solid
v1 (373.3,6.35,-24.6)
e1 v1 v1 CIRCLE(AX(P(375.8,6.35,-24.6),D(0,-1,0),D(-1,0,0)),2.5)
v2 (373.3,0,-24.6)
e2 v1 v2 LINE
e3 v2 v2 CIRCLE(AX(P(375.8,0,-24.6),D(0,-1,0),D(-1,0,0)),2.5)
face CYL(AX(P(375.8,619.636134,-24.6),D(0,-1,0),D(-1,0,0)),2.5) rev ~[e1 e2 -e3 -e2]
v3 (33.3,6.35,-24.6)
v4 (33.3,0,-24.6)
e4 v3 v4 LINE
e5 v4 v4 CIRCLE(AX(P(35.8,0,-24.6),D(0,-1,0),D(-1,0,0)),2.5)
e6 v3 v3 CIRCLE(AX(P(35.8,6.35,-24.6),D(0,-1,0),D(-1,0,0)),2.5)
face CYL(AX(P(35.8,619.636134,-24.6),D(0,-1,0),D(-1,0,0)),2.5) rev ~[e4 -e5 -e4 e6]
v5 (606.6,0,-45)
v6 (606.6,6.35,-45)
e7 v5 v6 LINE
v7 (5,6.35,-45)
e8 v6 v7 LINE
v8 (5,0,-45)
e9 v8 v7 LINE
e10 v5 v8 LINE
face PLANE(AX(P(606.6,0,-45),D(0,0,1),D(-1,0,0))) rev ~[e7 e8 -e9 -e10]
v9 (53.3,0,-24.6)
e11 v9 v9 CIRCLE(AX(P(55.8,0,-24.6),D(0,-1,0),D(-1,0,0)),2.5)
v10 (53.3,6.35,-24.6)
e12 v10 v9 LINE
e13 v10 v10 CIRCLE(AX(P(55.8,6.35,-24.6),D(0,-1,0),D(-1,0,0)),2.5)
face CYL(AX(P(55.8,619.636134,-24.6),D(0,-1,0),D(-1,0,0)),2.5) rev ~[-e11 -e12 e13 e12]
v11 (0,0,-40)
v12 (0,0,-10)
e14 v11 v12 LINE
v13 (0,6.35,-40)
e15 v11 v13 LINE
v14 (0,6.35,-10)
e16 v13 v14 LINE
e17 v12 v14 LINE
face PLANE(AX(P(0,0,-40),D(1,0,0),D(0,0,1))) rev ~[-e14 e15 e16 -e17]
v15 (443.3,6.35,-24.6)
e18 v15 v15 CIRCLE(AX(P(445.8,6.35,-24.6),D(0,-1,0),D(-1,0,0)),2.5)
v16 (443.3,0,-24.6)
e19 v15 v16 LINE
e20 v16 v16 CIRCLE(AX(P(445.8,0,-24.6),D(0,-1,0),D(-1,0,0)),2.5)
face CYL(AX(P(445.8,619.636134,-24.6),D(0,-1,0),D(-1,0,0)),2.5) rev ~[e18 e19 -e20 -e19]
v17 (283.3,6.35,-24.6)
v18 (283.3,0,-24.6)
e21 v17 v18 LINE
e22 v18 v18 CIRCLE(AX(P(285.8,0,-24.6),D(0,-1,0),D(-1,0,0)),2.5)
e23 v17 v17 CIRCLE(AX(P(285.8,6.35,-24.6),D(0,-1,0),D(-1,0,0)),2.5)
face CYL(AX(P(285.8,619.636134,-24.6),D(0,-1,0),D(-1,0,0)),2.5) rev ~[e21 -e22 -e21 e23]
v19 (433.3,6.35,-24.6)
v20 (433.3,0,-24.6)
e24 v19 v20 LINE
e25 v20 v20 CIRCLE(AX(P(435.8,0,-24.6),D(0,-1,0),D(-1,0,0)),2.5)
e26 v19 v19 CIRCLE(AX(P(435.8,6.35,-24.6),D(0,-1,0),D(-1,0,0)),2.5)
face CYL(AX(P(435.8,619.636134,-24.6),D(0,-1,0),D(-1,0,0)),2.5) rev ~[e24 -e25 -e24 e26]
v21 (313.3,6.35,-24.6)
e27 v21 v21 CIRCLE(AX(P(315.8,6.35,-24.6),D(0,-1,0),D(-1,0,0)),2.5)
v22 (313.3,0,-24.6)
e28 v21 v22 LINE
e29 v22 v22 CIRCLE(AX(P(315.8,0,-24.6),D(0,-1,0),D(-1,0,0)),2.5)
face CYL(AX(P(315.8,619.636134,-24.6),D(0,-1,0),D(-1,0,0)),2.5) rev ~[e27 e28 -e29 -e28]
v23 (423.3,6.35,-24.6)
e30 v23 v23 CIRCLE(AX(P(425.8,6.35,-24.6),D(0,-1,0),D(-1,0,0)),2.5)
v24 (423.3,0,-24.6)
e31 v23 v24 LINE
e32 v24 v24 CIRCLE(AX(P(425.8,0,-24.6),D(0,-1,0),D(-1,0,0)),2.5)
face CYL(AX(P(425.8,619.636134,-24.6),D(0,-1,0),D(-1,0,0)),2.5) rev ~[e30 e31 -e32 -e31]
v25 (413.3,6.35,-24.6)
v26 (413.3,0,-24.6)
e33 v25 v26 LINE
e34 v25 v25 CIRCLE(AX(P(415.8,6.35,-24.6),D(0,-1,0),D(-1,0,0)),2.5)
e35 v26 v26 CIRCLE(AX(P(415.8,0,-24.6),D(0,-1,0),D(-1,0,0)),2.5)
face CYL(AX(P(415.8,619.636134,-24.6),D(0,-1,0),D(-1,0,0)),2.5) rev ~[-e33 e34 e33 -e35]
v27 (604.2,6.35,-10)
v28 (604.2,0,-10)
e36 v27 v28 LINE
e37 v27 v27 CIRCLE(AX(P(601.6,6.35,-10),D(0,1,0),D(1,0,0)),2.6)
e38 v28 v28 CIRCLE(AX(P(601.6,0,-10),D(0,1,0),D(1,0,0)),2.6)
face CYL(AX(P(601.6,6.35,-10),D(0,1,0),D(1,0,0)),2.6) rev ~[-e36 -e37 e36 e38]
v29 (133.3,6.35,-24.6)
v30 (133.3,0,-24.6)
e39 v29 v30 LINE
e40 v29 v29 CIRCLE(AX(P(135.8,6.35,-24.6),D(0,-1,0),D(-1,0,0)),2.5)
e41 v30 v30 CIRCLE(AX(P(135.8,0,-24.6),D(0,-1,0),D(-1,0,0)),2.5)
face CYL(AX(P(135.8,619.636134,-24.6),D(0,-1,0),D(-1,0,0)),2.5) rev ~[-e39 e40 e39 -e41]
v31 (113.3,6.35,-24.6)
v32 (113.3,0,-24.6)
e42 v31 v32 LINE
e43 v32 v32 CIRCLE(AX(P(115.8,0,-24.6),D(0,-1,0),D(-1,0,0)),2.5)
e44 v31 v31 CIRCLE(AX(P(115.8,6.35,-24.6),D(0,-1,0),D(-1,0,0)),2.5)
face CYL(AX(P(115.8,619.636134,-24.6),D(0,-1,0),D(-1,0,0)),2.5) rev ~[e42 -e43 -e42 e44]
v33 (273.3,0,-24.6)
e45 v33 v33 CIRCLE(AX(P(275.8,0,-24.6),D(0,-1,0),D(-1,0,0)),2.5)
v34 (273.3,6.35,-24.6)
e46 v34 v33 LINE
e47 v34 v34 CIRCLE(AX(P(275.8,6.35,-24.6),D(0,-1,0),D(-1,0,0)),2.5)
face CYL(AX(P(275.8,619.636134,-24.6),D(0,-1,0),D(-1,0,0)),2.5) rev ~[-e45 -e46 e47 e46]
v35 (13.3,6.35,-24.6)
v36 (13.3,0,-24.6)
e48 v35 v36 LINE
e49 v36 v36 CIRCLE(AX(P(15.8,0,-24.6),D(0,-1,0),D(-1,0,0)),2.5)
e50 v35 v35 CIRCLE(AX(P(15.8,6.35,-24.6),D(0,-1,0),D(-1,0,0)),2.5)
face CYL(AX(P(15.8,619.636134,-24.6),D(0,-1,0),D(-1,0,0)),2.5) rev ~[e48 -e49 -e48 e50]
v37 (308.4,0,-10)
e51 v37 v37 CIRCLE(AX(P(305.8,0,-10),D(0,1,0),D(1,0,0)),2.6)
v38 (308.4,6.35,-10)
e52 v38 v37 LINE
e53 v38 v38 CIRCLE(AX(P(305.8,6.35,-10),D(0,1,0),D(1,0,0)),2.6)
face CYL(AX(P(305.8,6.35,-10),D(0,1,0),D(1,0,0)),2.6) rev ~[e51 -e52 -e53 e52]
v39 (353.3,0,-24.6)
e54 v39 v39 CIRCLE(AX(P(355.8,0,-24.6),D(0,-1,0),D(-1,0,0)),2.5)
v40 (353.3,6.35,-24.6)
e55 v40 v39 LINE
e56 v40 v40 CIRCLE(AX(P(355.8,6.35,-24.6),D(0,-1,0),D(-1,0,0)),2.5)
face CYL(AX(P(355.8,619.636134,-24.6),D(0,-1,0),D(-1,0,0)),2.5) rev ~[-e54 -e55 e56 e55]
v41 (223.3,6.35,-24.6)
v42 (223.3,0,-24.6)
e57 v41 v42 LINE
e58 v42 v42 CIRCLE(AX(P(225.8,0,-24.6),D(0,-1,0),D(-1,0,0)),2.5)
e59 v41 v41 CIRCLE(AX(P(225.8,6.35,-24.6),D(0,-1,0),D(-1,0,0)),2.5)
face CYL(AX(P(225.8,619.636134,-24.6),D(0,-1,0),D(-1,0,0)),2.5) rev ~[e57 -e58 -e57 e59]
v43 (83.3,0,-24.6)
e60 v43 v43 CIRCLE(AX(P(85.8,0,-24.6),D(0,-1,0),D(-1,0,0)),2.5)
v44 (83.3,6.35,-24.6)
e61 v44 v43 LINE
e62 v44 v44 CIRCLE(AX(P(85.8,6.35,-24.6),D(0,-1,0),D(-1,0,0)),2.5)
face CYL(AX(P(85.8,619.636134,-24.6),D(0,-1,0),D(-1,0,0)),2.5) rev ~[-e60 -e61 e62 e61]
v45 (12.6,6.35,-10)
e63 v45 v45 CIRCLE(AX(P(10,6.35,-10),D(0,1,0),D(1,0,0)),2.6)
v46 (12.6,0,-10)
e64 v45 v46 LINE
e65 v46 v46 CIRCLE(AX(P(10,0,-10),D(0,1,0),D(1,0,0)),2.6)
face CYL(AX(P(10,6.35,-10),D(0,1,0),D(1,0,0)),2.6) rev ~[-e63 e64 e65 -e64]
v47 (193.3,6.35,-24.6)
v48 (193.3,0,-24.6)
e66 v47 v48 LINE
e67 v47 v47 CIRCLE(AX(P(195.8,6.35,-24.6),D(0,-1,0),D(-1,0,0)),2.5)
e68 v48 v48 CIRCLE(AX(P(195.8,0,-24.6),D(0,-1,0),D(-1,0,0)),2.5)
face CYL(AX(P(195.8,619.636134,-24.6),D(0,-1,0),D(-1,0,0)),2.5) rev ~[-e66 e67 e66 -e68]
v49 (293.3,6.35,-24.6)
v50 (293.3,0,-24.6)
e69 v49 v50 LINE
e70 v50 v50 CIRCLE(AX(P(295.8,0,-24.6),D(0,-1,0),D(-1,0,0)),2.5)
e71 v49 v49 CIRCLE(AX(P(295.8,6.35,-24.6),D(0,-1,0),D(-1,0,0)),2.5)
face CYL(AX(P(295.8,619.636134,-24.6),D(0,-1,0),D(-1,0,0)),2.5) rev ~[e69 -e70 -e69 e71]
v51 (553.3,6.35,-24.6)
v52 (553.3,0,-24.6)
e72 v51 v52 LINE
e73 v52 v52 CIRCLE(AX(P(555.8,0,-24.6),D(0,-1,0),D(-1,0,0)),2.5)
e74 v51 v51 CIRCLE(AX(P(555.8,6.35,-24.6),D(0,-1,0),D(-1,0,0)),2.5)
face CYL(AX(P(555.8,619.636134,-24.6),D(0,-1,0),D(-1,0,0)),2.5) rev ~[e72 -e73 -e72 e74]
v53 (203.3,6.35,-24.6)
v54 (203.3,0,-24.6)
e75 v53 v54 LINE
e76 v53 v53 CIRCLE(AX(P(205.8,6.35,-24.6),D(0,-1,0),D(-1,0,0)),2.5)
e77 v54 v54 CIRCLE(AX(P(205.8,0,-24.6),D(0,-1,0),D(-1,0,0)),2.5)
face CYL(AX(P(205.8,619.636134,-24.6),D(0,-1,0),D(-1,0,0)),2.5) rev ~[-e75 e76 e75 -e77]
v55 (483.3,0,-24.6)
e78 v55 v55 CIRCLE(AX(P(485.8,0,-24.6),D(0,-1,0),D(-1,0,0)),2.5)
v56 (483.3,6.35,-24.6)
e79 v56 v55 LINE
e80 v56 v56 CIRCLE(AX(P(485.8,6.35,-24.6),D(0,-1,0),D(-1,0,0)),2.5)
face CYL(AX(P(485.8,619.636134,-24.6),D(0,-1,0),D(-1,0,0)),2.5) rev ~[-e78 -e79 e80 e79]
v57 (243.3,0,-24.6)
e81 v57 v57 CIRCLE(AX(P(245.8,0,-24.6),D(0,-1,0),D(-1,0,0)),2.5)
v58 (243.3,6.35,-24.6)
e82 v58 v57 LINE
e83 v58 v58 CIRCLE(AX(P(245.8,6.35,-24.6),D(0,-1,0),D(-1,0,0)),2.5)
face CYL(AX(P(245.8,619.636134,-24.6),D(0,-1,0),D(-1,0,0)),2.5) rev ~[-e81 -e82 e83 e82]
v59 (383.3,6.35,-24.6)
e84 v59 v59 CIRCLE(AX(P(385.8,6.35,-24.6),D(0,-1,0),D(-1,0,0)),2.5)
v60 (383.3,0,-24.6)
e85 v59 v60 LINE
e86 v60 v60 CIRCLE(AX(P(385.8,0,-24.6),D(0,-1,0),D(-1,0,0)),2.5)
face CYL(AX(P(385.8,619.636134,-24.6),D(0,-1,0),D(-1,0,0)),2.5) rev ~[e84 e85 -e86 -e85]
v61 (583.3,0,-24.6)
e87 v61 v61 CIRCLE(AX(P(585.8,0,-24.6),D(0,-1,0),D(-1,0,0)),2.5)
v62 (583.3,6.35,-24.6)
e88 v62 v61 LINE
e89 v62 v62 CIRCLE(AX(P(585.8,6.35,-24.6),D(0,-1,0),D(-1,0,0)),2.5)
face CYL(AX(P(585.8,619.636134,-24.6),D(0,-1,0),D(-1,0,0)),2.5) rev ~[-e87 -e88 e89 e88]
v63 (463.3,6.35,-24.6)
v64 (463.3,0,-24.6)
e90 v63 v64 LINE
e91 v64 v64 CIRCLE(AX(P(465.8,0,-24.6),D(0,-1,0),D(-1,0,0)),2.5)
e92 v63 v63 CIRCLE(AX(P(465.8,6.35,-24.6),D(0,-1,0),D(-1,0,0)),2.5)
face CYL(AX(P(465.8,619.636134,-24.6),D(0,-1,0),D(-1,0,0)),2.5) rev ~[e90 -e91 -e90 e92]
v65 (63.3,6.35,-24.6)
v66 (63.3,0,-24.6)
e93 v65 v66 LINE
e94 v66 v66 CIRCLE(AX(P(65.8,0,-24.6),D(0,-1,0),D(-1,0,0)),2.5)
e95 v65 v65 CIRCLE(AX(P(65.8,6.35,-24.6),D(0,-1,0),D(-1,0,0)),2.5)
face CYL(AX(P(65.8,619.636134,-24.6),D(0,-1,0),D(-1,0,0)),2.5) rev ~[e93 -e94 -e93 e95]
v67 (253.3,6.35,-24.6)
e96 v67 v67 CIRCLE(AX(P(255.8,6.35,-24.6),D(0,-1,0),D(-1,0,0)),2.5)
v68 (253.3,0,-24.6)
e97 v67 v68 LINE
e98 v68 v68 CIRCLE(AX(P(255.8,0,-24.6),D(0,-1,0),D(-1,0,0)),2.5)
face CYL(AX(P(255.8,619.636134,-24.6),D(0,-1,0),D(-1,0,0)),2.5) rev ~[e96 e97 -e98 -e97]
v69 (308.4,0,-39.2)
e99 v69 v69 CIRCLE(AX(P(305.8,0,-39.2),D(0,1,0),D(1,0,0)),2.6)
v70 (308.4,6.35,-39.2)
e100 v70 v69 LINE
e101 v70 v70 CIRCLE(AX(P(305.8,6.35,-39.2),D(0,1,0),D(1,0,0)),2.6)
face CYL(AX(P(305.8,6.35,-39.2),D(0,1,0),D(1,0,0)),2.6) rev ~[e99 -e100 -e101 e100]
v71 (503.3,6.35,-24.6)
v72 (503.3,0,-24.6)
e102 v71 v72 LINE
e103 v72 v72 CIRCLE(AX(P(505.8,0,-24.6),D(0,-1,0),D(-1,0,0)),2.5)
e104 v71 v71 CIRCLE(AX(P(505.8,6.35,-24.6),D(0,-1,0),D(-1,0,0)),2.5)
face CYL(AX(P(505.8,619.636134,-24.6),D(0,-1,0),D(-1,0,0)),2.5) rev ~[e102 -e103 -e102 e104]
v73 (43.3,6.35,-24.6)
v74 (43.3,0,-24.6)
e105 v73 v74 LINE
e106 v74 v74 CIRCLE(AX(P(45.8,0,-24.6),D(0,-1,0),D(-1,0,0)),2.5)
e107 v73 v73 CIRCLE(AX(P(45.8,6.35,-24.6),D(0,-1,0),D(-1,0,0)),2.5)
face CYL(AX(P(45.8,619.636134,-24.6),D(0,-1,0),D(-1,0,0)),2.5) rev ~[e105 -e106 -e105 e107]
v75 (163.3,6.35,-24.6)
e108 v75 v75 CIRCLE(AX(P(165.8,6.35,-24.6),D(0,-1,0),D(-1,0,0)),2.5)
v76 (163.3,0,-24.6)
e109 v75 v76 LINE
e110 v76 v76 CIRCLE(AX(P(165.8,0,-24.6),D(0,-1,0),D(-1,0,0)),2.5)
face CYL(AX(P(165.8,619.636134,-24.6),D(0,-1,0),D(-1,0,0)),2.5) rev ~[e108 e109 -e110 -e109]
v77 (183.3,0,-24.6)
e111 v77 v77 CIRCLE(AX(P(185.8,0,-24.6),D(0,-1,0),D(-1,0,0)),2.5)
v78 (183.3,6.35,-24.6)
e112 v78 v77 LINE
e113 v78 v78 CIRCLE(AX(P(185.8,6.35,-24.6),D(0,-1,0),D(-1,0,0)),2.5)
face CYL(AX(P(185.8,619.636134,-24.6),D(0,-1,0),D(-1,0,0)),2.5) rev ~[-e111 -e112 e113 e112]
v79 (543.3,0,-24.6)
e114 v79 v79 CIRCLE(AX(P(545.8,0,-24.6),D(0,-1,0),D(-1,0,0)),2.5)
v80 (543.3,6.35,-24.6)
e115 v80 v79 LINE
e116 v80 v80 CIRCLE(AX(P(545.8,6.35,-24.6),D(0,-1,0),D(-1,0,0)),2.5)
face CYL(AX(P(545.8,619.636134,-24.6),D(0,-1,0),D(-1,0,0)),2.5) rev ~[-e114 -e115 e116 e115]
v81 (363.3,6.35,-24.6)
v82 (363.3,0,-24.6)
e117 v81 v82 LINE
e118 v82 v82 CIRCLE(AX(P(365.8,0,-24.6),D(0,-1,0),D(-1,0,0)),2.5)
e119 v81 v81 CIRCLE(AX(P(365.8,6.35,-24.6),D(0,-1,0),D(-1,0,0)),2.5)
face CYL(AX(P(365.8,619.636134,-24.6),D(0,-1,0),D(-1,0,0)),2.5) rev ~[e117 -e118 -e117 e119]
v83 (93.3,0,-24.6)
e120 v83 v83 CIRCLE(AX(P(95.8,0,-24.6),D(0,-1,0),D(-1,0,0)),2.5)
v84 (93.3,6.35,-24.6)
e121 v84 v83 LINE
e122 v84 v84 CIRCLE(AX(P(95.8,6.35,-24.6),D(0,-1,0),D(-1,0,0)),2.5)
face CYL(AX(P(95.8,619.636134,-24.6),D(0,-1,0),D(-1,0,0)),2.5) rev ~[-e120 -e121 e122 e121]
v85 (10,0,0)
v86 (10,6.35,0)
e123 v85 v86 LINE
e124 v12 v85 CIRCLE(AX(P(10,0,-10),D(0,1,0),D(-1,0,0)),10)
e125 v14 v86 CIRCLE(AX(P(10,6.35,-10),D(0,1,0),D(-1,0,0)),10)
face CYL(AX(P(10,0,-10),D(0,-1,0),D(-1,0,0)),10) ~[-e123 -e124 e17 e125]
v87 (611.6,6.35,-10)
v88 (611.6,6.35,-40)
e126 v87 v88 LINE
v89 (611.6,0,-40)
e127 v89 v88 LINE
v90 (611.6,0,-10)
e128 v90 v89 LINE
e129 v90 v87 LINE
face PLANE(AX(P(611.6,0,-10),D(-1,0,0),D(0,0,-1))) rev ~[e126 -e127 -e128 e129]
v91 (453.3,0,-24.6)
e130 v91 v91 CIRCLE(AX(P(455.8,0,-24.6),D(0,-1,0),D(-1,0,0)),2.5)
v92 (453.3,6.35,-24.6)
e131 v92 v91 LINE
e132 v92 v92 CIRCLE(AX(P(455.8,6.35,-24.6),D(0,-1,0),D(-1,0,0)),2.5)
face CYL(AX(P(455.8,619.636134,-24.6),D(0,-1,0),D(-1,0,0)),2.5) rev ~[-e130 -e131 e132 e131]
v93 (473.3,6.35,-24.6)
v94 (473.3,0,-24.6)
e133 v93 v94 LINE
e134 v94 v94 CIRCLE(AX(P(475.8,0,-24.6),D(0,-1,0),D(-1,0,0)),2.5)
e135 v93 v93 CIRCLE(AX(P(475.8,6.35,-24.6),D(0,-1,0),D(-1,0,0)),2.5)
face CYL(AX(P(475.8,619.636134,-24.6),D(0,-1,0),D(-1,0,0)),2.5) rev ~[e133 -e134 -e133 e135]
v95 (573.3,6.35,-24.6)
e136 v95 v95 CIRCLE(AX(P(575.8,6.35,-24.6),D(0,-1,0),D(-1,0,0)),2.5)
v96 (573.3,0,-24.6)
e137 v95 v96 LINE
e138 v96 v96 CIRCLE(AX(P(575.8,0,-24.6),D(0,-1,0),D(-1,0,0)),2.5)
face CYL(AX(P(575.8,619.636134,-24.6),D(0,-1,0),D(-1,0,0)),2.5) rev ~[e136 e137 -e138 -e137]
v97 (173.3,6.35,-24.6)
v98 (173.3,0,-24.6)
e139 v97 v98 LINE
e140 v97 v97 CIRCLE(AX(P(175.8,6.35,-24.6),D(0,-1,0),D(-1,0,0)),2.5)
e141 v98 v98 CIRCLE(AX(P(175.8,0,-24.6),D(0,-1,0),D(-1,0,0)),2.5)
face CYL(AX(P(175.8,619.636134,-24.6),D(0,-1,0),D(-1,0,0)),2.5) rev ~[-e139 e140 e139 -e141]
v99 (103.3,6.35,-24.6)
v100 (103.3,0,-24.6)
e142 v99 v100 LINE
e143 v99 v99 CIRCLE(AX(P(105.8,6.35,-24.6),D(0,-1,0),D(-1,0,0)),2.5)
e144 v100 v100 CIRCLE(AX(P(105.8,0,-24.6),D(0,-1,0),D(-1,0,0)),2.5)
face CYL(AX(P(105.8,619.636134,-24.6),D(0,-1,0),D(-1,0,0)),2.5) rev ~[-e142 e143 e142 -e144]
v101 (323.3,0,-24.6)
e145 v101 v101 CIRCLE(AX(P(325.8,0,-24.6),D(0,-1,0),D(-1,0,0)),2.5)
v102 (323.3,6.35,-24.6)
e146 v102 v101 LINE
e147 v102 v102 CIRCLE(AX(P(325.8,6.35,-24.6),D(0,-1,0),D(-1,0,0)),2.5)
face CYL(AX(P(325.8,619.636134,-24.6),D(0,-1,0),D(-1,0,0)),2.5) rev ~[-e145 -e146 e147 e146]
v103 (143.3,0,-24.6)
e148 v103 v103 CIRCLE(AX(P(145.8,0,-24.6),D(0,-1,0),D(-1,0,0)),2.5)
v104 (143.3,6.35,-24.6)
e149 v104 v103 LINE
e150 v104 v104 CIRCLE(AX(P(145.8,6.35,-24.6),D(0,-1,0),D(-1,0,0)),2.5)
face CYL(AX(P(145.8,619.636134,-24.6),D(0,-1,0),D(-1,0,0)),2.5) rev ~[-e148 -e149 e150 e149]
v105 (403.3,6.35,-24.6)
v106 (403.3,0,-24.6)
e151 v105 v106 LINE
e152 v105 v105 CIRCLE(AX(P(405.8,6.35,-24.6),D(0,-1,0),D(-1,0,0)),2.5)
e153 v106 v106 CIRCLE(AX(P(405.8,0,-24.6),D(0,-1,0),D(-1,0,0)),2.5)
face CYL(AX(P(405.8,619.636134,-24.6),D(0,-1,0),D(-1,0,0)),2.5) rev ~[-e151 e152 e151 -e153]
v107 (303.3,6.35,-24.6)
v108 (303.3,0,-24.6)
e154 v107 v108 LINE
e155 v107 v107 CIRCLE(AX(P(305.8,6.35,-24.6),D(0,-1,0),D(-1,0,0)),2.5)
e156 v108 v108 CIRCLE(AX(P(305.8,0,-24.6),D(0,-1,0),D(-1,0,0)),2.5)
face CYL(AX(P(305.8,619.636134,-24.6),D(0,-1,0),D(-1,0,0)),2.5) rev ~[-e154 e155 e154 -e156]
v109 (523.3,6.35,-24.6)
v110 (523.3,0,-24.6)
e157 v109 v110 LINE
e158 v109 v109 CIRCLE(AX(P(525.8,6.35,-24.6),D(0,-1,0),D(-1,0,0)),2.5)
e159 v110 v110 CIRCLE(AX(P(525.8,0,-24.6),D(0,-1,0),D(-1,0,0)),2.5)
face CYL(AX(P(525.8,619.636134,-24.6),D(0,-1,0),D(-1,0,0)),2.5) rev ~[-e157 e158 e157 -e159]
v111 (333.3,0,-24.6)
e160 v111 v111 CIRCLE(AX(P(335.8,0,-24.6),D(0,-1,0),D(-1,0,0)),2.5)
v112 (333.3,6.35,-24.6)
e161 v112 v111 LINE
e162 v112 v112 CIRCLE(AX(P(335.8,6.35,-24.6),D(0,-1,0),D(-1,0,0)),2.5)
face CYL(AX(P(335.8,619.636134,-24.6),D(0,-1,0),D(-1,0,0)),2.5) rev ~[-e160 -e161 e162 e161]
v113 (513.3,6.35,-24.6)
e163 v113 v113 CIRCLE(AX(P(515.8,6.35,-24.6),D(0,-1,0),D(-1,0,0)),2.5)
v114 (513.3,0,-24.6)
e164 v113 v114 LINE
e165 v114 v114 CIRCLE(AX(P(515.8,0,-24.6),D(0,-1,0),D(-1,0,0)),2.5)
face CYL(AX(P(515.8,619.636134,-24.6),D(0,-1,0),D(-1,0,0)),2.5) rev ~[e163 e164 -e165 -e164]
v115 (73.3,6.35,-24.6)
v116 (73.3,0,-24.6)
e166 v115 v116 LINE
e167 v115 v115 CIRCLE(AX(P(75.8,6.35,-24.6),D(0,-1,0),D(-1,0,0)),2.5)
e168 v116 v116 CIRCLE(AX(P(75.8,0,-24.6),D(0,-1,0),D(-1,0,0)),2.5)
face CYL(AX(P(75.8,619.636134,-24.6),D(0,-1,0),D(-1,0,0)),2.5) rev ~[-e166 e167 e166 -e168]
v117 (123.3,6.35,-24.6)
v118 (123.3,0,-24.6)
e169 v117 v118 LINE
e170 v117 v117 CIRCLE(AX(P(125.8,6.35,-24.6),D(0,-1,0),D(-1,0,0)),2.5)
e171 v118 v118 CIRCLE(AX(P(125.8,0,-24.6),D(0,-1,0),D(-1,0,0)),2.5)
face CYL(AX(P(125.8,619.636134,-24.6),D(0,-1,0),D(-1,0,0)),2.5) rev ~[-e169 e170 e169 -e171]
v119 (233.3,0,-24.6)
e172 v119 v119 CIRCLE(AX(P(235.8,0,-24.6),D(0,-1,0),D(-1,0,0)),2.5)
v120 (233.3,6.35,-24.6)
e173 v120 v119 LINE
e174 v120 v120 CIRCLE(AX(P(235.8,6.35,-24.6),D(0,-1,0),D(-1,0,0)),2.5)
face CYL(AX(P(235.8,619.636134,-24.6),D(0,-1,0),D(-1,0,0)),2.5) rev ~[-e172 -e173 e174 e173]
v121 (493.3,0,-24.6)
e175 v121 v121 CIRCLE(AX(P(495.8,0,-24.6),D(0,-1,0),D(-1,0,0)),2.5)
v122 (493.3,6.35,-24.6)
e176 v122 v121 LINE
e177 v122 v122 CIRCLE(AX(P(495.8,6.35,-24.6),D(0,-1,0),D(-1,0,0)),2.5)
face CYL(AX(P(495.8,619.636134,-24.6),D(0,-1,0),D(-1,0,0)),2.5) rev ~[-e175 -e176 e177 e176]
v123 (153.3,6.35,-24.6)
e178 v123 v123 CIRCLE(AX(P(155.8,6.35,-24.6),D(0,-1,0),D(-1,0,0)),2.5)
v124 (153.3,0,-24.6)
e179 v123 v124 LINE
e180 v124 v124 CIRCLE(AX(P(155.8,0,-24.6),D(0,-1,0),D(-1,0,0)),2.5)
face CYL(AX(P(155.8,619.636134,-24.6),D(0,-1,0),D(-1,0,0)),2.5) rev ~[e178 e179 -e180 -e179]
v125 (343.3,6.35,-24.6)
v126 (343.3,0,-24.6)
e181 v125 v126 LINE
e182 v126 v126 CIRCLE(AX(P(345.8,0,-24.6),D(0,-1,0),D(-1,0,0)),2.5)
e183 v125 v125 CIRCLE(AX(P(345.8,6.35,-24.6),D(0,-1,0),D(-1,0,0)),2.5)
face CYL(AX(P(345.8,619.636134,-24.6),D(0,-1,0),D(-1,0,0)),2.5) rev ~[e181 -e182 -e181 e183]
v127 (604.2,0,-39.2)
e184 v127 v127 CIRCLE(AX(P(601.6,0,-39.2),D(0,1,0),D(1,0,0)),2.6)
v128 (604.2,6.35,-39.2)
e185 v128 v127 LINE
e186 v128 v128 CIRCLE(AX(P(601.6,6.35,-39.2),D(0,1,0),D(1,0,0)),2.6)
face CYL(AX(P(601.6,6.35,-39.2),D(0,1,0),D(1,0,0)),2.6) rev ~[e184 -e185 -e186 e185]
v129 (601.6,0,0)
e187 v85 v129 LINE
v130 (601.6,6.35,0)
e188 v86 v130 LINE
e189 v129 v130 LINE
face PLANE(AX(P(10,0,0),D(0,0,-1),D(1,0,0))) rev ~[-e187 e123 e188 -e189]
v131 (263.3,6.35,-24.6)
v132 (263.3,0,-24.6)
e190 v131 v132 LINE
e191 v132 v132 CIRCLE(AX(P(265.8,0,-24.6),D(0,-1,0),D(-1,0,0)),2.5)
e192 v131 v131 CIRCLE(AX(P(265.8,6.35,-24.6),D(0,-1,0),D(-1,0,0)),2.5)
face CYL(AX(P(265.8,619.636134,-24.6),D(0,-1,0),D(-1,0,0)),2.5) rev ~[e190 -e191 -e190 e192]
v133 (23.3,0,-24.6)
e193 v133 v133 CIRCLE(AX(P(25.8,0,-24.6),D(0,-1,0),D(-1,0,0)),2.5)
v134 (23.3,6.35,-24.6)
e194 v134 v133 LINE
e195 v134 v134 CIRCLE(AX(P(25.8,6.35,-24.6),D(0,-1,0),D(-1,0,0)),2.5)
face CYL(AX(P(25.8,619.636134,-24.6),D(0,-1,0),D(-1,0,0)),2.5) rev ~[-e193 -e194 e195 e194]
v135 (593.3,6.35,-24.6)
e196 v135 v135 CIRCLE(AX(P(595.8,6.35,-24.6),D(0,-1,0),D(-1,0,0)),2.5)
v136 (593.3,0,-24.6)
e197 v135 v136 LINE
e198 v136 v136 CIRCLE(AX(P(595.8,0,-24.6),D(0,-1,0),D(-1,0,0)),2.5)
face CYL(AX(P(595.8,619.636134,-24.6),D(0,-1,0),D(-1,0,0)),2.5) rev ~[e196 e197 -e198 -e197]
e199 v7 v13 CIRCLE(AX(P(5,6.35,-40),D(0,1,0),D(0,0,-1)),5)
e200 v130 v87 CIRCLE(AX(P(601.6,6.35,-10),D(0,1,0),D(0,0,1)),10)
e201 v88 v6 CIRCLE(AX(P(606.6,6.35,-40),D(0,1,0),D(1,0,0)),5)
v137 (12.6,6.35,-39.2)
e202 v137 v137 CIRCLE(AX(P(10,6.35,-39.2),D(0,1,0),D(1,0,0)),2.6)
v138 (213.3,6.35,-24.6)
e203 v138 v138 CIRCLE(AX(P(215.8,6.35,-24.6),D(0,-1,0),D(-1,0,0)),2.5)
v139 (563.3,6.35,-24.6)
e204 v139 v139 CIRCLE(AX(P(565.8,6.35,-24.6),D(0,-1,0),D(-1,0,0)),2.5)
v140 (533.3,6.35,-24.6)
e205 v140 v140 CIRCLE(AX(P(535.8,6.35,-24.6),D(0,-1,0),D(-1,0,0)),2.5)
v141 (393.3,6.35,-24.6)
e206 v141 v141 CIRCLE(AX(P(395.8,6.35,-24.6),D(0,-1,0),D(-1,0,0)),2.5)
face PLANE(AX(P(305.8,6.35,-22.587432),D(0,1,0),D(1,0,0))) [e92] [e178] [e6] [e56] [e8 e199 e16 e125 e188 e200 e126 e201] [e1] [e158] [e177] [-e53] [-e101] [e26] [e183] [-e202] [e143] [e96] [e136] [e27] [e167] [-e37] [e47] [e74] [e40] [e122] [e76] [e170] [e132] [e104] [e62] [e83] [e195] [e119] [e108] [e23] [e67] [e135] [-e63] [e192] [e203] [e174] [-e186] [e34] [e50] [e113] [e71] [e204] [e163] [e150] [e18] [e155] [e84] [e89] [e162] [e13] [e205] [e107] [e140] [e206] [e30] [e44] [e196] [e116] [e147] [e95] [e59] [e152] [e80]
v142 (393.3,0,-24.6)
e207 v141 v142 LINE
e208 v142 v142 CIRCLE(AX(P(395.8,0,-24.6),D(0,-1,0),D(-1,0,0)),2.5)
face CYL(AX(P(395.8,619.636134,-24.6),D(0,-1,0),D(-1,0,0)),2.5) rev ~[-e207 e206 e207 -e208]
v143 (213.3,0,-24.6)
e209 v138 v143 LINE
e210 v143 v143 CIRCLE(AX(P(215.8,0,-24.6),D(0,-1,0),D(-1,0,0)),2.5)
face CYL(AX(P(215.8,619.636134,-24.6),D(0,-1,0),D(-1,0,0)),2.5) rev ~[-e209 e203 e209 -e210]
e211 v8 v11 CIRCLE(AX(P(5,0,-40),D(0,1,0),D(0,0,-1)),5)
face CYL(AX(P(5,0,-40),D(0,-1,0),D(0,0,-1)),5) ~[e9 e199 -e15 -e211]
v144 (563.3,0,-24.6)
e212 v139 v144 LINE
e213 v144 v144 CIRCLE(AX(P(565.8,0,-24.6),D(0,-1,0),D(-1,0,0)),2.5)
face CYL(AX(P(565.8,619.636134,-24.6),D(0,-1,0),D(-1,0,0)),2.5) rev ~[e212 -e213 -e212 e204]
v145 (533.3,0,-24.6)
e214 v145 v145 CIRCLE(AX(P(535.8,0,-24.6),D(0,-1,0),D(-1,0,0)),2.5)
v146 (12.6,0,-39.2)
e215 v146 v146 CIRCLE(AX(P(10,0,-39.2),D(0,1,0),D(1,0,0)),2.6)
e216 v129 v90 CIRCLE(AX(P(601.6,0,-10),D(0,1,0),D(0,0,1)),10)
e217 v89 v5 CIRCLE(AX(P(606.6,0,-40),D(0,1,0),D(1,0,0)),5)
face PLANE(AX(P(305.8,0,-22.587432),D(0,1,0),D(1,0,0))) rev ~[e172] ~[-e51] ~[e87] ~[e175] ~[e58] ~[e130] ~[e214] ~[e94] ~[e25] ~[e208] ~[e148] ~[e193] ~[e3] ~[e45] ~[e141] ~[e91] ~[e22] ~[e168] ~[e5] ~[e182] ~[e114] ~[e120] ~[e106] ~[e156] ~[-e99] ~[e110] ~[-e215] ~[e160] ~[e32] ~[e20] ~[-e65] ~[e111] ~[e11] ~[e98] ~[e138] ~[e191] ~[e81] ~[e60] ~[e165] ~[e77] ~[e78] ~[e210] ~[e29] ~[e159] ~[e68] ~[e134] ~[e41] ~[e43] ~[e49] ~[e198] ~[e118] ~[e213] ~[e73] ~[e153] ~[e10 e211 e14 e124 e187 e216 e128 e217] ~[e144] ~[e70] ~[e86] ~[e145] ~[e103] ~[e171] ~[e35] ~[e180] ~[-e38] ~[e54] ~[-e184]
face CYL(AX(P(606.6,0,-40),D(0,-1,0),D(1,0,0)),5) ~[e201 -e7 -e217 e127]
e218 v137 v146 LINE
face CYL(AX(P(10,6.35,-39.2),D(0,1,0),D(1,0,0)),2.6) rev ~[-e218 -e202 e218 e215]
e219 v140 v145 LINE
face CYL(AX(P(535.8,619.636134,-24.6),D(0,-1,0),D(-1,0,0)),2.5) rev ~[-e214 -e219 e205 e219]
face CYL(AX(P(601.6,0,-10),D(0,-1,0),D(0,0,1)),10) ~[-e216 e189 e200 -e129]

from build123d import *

# Parameters (mm, degrees)
BOSS_EXTRUDE1_DEPTH   = 6.35
M6X1_0_TAPPED_HOLE2_D = 5
LPATTERN2_COUNT       = 59
LPATTERN2_PITCH       = 10
CUT_EXTRUDE1_REACH    = 8.35
SKETCH8_R             = 2.6


with BuildPart() as part:
    # Sketch1 → Boss-Extrude1 (new body)
    with BuildSketch(Plane(origin=(0, 0, 0), x_dir=(1, 0, 0), z_dir=(0, 1, 0))):
        with BuildLine():
            Line((10, 0), (601.6, 0))
            ThreePointArc((601.6, 0), (608.671067812, 2.928932188), (611.6, 10))
            Line((611.6, 10), (611.6, 40))
            ThreePointArc((611.6, 40), (610.135533906, 43.535533906), (606.6, 45))
            Line((606.6, 45), (5, 45))
            ThreePointArc((5, 45), (1.464466094, 43.535533906), (0, 40))
            Line((0, 40), (0, 10))
            ThreePointArc((0, 10), (2.928932188, 2.928932188), (10, 0))
        make_face()
    extrude(amount=BOSS_EXTRUDE1_DEPTH)

    # M6x1.0 Tapped Hole2 (through all)
    with Locations(Plane(origin=(0, 6.35, 0), x_dir=(1, 0, 0), z_dir=(0, 1, 0))):
        with Locations((595.8, 24.6)):
            m6x1_0_tapped_hole2 = Hole(M6X1_0_TAPPED_HOLE2_D / 2)

    # LPattern2: M6x1.0 Tapped Hole2 ×59
    with Locations(*[(-i * LPATTERN2_PITCH, 0, 0) for i in range(1, LPATTERN2_COUNT)]):
        add(m6x1_0_tapped_hole2, mode=Mode.SUBTRACT)

    # Sketch8 → Cut-Extrude1 (cut, up to next)
    with BuildSketch(Plane(origin=(0, 6.35, 0), x_dir=(1, 0, 0), z_dir=(0, 1, 0)), mode=Mode.PRIVATE) as cut_extrude1_sk1:
        with Locations((10, 10)):
            Circle(SKETCH8_R)
    cut_extrude1_tool1 = extrude(cut_extrude1_sk1.sketch, amount=-CUT_EXTRUDE1_REACH, mode=Mode.PRIVATE) & part.part
    add(cut_extrude1_tool1.solids().sort_by_distance((10, 6.35, -10))[0], mode=Mode.SUBTRACT)
    # Sketch8 → Cut-Extrude1 (cut, up to next)
    with BuildSketch(Plane(origin=(0, 6.35, 0), x_dir=(1, 0, 0), z_dir=(0, 1, 0)), mode=Mode.PRIVATE) as cut_extrude1_sk2:
        with Locations((10, 39.2)):
            Circle(SKETCH8_R)
    cut_extrude1_tool2 = extrude(cut_extrude1_sk2.sketch, amount=-CUT_EXTRUDE1_REACH, mode=Mode.PRIVATE) & part.part
    add(cut_extrude1_tool2.solids().sort_by_distance((10, 6.35, -39.2))[0], mode=Mode.SUBTRACT)
    # Sketch8 → Cut-Extrude1 (cut, up to next)
    with BuildSketch(Plane(origin=(0, 6.35, 0), x_dir=(1, 0, 0), z_dir=(0, 1, 0)), mode=Mode.PRIVATE) as cut_extrude1_sk3:
        with Locations((601.6, 10)):
            Circle(SKETCH8_R)
    cut_extrude1_tool3 = extrude(cut_extrude1_sk3.sketch, amount=-CUT_EXTRUDE1_REACH, mode=Mode.PRIVATE) & part.part
    add(cut_extrude1_tool3.solids().sort_by_distance((601.6, 6.35, -10))[0], mode=Mode.SUBTRACT)
    # Sketch8 → Cut-Extrude1 (cut, up to next)
    with BuildSketch(Plane(origin=(0, 6.35, 0), x_dir=(1, 0, 0), z_dir=(0, 1, 0)), mode=Mode.PRIVATE) as cut_extrude1_sk4:
        with Locations((601.6, 39.2)):
            Circle(SKETCH8_R)
    cut_extrude1_tool4 = extrude(cut_extrude1_sk4.sketch, amount=-CUT_EXTRUDE1_REACH, mode=Mode.PRIVATE) & part.part
    add(cut_extrude1_tool4.solids().sort_by_distance((601.6, 6.35, -39.2))[0], mode=Mode.SUBTRACT)
    # Sketch8 → Cut-Extrude1 (cut, up to next)
    with BuildSketch(Plane(origin=(0, 6.35, 0), x_dir=(1, 0, 0), z_dir=(0, 1, 0)), mode=Mode.PRIVATE) as cut_extrude1_sk5:
        with Locations((305.8, 10)):
            Circle(SKETCH8_R)
    cut_extrude1_tool5 = extrude(cut_extrude1_sk5.sketch, amount=-CUT_EXTRUDE1_REACH, mode=Mode.PRIVATE) & part.part
    add(cut_extrude1_tool5.solids().sort_by_distance((305.8, 6.35, -10))[0], mode=Mode.SUBTRACT)
    # Sketch8 → Cut-Extrude1 (cut, up to next)
    with BuildSketch(Plane(origin=(0, 6.35, 0), x_dir=(1, 0, 0), z_dir=(0, 1, 0)), mode=Mode.PRIVATE) as cut_extrude1_sk6:
        with Locations((305.8, 39.2)):
            Circle(SKETCH8_R)
    cut_extrude1_tool6 = extrude(cut_extrude1_sk6.sketch, amount=-CUT_EXTRUDE1_REACH, mode=Mode.PRIVATE) & part.part
    add(cut_extrude1_tool6.solids().sort_by_distance((305.8, 6.35, -39.2))[0], mode=Mode.SUBTRACT)


solid = part.part
